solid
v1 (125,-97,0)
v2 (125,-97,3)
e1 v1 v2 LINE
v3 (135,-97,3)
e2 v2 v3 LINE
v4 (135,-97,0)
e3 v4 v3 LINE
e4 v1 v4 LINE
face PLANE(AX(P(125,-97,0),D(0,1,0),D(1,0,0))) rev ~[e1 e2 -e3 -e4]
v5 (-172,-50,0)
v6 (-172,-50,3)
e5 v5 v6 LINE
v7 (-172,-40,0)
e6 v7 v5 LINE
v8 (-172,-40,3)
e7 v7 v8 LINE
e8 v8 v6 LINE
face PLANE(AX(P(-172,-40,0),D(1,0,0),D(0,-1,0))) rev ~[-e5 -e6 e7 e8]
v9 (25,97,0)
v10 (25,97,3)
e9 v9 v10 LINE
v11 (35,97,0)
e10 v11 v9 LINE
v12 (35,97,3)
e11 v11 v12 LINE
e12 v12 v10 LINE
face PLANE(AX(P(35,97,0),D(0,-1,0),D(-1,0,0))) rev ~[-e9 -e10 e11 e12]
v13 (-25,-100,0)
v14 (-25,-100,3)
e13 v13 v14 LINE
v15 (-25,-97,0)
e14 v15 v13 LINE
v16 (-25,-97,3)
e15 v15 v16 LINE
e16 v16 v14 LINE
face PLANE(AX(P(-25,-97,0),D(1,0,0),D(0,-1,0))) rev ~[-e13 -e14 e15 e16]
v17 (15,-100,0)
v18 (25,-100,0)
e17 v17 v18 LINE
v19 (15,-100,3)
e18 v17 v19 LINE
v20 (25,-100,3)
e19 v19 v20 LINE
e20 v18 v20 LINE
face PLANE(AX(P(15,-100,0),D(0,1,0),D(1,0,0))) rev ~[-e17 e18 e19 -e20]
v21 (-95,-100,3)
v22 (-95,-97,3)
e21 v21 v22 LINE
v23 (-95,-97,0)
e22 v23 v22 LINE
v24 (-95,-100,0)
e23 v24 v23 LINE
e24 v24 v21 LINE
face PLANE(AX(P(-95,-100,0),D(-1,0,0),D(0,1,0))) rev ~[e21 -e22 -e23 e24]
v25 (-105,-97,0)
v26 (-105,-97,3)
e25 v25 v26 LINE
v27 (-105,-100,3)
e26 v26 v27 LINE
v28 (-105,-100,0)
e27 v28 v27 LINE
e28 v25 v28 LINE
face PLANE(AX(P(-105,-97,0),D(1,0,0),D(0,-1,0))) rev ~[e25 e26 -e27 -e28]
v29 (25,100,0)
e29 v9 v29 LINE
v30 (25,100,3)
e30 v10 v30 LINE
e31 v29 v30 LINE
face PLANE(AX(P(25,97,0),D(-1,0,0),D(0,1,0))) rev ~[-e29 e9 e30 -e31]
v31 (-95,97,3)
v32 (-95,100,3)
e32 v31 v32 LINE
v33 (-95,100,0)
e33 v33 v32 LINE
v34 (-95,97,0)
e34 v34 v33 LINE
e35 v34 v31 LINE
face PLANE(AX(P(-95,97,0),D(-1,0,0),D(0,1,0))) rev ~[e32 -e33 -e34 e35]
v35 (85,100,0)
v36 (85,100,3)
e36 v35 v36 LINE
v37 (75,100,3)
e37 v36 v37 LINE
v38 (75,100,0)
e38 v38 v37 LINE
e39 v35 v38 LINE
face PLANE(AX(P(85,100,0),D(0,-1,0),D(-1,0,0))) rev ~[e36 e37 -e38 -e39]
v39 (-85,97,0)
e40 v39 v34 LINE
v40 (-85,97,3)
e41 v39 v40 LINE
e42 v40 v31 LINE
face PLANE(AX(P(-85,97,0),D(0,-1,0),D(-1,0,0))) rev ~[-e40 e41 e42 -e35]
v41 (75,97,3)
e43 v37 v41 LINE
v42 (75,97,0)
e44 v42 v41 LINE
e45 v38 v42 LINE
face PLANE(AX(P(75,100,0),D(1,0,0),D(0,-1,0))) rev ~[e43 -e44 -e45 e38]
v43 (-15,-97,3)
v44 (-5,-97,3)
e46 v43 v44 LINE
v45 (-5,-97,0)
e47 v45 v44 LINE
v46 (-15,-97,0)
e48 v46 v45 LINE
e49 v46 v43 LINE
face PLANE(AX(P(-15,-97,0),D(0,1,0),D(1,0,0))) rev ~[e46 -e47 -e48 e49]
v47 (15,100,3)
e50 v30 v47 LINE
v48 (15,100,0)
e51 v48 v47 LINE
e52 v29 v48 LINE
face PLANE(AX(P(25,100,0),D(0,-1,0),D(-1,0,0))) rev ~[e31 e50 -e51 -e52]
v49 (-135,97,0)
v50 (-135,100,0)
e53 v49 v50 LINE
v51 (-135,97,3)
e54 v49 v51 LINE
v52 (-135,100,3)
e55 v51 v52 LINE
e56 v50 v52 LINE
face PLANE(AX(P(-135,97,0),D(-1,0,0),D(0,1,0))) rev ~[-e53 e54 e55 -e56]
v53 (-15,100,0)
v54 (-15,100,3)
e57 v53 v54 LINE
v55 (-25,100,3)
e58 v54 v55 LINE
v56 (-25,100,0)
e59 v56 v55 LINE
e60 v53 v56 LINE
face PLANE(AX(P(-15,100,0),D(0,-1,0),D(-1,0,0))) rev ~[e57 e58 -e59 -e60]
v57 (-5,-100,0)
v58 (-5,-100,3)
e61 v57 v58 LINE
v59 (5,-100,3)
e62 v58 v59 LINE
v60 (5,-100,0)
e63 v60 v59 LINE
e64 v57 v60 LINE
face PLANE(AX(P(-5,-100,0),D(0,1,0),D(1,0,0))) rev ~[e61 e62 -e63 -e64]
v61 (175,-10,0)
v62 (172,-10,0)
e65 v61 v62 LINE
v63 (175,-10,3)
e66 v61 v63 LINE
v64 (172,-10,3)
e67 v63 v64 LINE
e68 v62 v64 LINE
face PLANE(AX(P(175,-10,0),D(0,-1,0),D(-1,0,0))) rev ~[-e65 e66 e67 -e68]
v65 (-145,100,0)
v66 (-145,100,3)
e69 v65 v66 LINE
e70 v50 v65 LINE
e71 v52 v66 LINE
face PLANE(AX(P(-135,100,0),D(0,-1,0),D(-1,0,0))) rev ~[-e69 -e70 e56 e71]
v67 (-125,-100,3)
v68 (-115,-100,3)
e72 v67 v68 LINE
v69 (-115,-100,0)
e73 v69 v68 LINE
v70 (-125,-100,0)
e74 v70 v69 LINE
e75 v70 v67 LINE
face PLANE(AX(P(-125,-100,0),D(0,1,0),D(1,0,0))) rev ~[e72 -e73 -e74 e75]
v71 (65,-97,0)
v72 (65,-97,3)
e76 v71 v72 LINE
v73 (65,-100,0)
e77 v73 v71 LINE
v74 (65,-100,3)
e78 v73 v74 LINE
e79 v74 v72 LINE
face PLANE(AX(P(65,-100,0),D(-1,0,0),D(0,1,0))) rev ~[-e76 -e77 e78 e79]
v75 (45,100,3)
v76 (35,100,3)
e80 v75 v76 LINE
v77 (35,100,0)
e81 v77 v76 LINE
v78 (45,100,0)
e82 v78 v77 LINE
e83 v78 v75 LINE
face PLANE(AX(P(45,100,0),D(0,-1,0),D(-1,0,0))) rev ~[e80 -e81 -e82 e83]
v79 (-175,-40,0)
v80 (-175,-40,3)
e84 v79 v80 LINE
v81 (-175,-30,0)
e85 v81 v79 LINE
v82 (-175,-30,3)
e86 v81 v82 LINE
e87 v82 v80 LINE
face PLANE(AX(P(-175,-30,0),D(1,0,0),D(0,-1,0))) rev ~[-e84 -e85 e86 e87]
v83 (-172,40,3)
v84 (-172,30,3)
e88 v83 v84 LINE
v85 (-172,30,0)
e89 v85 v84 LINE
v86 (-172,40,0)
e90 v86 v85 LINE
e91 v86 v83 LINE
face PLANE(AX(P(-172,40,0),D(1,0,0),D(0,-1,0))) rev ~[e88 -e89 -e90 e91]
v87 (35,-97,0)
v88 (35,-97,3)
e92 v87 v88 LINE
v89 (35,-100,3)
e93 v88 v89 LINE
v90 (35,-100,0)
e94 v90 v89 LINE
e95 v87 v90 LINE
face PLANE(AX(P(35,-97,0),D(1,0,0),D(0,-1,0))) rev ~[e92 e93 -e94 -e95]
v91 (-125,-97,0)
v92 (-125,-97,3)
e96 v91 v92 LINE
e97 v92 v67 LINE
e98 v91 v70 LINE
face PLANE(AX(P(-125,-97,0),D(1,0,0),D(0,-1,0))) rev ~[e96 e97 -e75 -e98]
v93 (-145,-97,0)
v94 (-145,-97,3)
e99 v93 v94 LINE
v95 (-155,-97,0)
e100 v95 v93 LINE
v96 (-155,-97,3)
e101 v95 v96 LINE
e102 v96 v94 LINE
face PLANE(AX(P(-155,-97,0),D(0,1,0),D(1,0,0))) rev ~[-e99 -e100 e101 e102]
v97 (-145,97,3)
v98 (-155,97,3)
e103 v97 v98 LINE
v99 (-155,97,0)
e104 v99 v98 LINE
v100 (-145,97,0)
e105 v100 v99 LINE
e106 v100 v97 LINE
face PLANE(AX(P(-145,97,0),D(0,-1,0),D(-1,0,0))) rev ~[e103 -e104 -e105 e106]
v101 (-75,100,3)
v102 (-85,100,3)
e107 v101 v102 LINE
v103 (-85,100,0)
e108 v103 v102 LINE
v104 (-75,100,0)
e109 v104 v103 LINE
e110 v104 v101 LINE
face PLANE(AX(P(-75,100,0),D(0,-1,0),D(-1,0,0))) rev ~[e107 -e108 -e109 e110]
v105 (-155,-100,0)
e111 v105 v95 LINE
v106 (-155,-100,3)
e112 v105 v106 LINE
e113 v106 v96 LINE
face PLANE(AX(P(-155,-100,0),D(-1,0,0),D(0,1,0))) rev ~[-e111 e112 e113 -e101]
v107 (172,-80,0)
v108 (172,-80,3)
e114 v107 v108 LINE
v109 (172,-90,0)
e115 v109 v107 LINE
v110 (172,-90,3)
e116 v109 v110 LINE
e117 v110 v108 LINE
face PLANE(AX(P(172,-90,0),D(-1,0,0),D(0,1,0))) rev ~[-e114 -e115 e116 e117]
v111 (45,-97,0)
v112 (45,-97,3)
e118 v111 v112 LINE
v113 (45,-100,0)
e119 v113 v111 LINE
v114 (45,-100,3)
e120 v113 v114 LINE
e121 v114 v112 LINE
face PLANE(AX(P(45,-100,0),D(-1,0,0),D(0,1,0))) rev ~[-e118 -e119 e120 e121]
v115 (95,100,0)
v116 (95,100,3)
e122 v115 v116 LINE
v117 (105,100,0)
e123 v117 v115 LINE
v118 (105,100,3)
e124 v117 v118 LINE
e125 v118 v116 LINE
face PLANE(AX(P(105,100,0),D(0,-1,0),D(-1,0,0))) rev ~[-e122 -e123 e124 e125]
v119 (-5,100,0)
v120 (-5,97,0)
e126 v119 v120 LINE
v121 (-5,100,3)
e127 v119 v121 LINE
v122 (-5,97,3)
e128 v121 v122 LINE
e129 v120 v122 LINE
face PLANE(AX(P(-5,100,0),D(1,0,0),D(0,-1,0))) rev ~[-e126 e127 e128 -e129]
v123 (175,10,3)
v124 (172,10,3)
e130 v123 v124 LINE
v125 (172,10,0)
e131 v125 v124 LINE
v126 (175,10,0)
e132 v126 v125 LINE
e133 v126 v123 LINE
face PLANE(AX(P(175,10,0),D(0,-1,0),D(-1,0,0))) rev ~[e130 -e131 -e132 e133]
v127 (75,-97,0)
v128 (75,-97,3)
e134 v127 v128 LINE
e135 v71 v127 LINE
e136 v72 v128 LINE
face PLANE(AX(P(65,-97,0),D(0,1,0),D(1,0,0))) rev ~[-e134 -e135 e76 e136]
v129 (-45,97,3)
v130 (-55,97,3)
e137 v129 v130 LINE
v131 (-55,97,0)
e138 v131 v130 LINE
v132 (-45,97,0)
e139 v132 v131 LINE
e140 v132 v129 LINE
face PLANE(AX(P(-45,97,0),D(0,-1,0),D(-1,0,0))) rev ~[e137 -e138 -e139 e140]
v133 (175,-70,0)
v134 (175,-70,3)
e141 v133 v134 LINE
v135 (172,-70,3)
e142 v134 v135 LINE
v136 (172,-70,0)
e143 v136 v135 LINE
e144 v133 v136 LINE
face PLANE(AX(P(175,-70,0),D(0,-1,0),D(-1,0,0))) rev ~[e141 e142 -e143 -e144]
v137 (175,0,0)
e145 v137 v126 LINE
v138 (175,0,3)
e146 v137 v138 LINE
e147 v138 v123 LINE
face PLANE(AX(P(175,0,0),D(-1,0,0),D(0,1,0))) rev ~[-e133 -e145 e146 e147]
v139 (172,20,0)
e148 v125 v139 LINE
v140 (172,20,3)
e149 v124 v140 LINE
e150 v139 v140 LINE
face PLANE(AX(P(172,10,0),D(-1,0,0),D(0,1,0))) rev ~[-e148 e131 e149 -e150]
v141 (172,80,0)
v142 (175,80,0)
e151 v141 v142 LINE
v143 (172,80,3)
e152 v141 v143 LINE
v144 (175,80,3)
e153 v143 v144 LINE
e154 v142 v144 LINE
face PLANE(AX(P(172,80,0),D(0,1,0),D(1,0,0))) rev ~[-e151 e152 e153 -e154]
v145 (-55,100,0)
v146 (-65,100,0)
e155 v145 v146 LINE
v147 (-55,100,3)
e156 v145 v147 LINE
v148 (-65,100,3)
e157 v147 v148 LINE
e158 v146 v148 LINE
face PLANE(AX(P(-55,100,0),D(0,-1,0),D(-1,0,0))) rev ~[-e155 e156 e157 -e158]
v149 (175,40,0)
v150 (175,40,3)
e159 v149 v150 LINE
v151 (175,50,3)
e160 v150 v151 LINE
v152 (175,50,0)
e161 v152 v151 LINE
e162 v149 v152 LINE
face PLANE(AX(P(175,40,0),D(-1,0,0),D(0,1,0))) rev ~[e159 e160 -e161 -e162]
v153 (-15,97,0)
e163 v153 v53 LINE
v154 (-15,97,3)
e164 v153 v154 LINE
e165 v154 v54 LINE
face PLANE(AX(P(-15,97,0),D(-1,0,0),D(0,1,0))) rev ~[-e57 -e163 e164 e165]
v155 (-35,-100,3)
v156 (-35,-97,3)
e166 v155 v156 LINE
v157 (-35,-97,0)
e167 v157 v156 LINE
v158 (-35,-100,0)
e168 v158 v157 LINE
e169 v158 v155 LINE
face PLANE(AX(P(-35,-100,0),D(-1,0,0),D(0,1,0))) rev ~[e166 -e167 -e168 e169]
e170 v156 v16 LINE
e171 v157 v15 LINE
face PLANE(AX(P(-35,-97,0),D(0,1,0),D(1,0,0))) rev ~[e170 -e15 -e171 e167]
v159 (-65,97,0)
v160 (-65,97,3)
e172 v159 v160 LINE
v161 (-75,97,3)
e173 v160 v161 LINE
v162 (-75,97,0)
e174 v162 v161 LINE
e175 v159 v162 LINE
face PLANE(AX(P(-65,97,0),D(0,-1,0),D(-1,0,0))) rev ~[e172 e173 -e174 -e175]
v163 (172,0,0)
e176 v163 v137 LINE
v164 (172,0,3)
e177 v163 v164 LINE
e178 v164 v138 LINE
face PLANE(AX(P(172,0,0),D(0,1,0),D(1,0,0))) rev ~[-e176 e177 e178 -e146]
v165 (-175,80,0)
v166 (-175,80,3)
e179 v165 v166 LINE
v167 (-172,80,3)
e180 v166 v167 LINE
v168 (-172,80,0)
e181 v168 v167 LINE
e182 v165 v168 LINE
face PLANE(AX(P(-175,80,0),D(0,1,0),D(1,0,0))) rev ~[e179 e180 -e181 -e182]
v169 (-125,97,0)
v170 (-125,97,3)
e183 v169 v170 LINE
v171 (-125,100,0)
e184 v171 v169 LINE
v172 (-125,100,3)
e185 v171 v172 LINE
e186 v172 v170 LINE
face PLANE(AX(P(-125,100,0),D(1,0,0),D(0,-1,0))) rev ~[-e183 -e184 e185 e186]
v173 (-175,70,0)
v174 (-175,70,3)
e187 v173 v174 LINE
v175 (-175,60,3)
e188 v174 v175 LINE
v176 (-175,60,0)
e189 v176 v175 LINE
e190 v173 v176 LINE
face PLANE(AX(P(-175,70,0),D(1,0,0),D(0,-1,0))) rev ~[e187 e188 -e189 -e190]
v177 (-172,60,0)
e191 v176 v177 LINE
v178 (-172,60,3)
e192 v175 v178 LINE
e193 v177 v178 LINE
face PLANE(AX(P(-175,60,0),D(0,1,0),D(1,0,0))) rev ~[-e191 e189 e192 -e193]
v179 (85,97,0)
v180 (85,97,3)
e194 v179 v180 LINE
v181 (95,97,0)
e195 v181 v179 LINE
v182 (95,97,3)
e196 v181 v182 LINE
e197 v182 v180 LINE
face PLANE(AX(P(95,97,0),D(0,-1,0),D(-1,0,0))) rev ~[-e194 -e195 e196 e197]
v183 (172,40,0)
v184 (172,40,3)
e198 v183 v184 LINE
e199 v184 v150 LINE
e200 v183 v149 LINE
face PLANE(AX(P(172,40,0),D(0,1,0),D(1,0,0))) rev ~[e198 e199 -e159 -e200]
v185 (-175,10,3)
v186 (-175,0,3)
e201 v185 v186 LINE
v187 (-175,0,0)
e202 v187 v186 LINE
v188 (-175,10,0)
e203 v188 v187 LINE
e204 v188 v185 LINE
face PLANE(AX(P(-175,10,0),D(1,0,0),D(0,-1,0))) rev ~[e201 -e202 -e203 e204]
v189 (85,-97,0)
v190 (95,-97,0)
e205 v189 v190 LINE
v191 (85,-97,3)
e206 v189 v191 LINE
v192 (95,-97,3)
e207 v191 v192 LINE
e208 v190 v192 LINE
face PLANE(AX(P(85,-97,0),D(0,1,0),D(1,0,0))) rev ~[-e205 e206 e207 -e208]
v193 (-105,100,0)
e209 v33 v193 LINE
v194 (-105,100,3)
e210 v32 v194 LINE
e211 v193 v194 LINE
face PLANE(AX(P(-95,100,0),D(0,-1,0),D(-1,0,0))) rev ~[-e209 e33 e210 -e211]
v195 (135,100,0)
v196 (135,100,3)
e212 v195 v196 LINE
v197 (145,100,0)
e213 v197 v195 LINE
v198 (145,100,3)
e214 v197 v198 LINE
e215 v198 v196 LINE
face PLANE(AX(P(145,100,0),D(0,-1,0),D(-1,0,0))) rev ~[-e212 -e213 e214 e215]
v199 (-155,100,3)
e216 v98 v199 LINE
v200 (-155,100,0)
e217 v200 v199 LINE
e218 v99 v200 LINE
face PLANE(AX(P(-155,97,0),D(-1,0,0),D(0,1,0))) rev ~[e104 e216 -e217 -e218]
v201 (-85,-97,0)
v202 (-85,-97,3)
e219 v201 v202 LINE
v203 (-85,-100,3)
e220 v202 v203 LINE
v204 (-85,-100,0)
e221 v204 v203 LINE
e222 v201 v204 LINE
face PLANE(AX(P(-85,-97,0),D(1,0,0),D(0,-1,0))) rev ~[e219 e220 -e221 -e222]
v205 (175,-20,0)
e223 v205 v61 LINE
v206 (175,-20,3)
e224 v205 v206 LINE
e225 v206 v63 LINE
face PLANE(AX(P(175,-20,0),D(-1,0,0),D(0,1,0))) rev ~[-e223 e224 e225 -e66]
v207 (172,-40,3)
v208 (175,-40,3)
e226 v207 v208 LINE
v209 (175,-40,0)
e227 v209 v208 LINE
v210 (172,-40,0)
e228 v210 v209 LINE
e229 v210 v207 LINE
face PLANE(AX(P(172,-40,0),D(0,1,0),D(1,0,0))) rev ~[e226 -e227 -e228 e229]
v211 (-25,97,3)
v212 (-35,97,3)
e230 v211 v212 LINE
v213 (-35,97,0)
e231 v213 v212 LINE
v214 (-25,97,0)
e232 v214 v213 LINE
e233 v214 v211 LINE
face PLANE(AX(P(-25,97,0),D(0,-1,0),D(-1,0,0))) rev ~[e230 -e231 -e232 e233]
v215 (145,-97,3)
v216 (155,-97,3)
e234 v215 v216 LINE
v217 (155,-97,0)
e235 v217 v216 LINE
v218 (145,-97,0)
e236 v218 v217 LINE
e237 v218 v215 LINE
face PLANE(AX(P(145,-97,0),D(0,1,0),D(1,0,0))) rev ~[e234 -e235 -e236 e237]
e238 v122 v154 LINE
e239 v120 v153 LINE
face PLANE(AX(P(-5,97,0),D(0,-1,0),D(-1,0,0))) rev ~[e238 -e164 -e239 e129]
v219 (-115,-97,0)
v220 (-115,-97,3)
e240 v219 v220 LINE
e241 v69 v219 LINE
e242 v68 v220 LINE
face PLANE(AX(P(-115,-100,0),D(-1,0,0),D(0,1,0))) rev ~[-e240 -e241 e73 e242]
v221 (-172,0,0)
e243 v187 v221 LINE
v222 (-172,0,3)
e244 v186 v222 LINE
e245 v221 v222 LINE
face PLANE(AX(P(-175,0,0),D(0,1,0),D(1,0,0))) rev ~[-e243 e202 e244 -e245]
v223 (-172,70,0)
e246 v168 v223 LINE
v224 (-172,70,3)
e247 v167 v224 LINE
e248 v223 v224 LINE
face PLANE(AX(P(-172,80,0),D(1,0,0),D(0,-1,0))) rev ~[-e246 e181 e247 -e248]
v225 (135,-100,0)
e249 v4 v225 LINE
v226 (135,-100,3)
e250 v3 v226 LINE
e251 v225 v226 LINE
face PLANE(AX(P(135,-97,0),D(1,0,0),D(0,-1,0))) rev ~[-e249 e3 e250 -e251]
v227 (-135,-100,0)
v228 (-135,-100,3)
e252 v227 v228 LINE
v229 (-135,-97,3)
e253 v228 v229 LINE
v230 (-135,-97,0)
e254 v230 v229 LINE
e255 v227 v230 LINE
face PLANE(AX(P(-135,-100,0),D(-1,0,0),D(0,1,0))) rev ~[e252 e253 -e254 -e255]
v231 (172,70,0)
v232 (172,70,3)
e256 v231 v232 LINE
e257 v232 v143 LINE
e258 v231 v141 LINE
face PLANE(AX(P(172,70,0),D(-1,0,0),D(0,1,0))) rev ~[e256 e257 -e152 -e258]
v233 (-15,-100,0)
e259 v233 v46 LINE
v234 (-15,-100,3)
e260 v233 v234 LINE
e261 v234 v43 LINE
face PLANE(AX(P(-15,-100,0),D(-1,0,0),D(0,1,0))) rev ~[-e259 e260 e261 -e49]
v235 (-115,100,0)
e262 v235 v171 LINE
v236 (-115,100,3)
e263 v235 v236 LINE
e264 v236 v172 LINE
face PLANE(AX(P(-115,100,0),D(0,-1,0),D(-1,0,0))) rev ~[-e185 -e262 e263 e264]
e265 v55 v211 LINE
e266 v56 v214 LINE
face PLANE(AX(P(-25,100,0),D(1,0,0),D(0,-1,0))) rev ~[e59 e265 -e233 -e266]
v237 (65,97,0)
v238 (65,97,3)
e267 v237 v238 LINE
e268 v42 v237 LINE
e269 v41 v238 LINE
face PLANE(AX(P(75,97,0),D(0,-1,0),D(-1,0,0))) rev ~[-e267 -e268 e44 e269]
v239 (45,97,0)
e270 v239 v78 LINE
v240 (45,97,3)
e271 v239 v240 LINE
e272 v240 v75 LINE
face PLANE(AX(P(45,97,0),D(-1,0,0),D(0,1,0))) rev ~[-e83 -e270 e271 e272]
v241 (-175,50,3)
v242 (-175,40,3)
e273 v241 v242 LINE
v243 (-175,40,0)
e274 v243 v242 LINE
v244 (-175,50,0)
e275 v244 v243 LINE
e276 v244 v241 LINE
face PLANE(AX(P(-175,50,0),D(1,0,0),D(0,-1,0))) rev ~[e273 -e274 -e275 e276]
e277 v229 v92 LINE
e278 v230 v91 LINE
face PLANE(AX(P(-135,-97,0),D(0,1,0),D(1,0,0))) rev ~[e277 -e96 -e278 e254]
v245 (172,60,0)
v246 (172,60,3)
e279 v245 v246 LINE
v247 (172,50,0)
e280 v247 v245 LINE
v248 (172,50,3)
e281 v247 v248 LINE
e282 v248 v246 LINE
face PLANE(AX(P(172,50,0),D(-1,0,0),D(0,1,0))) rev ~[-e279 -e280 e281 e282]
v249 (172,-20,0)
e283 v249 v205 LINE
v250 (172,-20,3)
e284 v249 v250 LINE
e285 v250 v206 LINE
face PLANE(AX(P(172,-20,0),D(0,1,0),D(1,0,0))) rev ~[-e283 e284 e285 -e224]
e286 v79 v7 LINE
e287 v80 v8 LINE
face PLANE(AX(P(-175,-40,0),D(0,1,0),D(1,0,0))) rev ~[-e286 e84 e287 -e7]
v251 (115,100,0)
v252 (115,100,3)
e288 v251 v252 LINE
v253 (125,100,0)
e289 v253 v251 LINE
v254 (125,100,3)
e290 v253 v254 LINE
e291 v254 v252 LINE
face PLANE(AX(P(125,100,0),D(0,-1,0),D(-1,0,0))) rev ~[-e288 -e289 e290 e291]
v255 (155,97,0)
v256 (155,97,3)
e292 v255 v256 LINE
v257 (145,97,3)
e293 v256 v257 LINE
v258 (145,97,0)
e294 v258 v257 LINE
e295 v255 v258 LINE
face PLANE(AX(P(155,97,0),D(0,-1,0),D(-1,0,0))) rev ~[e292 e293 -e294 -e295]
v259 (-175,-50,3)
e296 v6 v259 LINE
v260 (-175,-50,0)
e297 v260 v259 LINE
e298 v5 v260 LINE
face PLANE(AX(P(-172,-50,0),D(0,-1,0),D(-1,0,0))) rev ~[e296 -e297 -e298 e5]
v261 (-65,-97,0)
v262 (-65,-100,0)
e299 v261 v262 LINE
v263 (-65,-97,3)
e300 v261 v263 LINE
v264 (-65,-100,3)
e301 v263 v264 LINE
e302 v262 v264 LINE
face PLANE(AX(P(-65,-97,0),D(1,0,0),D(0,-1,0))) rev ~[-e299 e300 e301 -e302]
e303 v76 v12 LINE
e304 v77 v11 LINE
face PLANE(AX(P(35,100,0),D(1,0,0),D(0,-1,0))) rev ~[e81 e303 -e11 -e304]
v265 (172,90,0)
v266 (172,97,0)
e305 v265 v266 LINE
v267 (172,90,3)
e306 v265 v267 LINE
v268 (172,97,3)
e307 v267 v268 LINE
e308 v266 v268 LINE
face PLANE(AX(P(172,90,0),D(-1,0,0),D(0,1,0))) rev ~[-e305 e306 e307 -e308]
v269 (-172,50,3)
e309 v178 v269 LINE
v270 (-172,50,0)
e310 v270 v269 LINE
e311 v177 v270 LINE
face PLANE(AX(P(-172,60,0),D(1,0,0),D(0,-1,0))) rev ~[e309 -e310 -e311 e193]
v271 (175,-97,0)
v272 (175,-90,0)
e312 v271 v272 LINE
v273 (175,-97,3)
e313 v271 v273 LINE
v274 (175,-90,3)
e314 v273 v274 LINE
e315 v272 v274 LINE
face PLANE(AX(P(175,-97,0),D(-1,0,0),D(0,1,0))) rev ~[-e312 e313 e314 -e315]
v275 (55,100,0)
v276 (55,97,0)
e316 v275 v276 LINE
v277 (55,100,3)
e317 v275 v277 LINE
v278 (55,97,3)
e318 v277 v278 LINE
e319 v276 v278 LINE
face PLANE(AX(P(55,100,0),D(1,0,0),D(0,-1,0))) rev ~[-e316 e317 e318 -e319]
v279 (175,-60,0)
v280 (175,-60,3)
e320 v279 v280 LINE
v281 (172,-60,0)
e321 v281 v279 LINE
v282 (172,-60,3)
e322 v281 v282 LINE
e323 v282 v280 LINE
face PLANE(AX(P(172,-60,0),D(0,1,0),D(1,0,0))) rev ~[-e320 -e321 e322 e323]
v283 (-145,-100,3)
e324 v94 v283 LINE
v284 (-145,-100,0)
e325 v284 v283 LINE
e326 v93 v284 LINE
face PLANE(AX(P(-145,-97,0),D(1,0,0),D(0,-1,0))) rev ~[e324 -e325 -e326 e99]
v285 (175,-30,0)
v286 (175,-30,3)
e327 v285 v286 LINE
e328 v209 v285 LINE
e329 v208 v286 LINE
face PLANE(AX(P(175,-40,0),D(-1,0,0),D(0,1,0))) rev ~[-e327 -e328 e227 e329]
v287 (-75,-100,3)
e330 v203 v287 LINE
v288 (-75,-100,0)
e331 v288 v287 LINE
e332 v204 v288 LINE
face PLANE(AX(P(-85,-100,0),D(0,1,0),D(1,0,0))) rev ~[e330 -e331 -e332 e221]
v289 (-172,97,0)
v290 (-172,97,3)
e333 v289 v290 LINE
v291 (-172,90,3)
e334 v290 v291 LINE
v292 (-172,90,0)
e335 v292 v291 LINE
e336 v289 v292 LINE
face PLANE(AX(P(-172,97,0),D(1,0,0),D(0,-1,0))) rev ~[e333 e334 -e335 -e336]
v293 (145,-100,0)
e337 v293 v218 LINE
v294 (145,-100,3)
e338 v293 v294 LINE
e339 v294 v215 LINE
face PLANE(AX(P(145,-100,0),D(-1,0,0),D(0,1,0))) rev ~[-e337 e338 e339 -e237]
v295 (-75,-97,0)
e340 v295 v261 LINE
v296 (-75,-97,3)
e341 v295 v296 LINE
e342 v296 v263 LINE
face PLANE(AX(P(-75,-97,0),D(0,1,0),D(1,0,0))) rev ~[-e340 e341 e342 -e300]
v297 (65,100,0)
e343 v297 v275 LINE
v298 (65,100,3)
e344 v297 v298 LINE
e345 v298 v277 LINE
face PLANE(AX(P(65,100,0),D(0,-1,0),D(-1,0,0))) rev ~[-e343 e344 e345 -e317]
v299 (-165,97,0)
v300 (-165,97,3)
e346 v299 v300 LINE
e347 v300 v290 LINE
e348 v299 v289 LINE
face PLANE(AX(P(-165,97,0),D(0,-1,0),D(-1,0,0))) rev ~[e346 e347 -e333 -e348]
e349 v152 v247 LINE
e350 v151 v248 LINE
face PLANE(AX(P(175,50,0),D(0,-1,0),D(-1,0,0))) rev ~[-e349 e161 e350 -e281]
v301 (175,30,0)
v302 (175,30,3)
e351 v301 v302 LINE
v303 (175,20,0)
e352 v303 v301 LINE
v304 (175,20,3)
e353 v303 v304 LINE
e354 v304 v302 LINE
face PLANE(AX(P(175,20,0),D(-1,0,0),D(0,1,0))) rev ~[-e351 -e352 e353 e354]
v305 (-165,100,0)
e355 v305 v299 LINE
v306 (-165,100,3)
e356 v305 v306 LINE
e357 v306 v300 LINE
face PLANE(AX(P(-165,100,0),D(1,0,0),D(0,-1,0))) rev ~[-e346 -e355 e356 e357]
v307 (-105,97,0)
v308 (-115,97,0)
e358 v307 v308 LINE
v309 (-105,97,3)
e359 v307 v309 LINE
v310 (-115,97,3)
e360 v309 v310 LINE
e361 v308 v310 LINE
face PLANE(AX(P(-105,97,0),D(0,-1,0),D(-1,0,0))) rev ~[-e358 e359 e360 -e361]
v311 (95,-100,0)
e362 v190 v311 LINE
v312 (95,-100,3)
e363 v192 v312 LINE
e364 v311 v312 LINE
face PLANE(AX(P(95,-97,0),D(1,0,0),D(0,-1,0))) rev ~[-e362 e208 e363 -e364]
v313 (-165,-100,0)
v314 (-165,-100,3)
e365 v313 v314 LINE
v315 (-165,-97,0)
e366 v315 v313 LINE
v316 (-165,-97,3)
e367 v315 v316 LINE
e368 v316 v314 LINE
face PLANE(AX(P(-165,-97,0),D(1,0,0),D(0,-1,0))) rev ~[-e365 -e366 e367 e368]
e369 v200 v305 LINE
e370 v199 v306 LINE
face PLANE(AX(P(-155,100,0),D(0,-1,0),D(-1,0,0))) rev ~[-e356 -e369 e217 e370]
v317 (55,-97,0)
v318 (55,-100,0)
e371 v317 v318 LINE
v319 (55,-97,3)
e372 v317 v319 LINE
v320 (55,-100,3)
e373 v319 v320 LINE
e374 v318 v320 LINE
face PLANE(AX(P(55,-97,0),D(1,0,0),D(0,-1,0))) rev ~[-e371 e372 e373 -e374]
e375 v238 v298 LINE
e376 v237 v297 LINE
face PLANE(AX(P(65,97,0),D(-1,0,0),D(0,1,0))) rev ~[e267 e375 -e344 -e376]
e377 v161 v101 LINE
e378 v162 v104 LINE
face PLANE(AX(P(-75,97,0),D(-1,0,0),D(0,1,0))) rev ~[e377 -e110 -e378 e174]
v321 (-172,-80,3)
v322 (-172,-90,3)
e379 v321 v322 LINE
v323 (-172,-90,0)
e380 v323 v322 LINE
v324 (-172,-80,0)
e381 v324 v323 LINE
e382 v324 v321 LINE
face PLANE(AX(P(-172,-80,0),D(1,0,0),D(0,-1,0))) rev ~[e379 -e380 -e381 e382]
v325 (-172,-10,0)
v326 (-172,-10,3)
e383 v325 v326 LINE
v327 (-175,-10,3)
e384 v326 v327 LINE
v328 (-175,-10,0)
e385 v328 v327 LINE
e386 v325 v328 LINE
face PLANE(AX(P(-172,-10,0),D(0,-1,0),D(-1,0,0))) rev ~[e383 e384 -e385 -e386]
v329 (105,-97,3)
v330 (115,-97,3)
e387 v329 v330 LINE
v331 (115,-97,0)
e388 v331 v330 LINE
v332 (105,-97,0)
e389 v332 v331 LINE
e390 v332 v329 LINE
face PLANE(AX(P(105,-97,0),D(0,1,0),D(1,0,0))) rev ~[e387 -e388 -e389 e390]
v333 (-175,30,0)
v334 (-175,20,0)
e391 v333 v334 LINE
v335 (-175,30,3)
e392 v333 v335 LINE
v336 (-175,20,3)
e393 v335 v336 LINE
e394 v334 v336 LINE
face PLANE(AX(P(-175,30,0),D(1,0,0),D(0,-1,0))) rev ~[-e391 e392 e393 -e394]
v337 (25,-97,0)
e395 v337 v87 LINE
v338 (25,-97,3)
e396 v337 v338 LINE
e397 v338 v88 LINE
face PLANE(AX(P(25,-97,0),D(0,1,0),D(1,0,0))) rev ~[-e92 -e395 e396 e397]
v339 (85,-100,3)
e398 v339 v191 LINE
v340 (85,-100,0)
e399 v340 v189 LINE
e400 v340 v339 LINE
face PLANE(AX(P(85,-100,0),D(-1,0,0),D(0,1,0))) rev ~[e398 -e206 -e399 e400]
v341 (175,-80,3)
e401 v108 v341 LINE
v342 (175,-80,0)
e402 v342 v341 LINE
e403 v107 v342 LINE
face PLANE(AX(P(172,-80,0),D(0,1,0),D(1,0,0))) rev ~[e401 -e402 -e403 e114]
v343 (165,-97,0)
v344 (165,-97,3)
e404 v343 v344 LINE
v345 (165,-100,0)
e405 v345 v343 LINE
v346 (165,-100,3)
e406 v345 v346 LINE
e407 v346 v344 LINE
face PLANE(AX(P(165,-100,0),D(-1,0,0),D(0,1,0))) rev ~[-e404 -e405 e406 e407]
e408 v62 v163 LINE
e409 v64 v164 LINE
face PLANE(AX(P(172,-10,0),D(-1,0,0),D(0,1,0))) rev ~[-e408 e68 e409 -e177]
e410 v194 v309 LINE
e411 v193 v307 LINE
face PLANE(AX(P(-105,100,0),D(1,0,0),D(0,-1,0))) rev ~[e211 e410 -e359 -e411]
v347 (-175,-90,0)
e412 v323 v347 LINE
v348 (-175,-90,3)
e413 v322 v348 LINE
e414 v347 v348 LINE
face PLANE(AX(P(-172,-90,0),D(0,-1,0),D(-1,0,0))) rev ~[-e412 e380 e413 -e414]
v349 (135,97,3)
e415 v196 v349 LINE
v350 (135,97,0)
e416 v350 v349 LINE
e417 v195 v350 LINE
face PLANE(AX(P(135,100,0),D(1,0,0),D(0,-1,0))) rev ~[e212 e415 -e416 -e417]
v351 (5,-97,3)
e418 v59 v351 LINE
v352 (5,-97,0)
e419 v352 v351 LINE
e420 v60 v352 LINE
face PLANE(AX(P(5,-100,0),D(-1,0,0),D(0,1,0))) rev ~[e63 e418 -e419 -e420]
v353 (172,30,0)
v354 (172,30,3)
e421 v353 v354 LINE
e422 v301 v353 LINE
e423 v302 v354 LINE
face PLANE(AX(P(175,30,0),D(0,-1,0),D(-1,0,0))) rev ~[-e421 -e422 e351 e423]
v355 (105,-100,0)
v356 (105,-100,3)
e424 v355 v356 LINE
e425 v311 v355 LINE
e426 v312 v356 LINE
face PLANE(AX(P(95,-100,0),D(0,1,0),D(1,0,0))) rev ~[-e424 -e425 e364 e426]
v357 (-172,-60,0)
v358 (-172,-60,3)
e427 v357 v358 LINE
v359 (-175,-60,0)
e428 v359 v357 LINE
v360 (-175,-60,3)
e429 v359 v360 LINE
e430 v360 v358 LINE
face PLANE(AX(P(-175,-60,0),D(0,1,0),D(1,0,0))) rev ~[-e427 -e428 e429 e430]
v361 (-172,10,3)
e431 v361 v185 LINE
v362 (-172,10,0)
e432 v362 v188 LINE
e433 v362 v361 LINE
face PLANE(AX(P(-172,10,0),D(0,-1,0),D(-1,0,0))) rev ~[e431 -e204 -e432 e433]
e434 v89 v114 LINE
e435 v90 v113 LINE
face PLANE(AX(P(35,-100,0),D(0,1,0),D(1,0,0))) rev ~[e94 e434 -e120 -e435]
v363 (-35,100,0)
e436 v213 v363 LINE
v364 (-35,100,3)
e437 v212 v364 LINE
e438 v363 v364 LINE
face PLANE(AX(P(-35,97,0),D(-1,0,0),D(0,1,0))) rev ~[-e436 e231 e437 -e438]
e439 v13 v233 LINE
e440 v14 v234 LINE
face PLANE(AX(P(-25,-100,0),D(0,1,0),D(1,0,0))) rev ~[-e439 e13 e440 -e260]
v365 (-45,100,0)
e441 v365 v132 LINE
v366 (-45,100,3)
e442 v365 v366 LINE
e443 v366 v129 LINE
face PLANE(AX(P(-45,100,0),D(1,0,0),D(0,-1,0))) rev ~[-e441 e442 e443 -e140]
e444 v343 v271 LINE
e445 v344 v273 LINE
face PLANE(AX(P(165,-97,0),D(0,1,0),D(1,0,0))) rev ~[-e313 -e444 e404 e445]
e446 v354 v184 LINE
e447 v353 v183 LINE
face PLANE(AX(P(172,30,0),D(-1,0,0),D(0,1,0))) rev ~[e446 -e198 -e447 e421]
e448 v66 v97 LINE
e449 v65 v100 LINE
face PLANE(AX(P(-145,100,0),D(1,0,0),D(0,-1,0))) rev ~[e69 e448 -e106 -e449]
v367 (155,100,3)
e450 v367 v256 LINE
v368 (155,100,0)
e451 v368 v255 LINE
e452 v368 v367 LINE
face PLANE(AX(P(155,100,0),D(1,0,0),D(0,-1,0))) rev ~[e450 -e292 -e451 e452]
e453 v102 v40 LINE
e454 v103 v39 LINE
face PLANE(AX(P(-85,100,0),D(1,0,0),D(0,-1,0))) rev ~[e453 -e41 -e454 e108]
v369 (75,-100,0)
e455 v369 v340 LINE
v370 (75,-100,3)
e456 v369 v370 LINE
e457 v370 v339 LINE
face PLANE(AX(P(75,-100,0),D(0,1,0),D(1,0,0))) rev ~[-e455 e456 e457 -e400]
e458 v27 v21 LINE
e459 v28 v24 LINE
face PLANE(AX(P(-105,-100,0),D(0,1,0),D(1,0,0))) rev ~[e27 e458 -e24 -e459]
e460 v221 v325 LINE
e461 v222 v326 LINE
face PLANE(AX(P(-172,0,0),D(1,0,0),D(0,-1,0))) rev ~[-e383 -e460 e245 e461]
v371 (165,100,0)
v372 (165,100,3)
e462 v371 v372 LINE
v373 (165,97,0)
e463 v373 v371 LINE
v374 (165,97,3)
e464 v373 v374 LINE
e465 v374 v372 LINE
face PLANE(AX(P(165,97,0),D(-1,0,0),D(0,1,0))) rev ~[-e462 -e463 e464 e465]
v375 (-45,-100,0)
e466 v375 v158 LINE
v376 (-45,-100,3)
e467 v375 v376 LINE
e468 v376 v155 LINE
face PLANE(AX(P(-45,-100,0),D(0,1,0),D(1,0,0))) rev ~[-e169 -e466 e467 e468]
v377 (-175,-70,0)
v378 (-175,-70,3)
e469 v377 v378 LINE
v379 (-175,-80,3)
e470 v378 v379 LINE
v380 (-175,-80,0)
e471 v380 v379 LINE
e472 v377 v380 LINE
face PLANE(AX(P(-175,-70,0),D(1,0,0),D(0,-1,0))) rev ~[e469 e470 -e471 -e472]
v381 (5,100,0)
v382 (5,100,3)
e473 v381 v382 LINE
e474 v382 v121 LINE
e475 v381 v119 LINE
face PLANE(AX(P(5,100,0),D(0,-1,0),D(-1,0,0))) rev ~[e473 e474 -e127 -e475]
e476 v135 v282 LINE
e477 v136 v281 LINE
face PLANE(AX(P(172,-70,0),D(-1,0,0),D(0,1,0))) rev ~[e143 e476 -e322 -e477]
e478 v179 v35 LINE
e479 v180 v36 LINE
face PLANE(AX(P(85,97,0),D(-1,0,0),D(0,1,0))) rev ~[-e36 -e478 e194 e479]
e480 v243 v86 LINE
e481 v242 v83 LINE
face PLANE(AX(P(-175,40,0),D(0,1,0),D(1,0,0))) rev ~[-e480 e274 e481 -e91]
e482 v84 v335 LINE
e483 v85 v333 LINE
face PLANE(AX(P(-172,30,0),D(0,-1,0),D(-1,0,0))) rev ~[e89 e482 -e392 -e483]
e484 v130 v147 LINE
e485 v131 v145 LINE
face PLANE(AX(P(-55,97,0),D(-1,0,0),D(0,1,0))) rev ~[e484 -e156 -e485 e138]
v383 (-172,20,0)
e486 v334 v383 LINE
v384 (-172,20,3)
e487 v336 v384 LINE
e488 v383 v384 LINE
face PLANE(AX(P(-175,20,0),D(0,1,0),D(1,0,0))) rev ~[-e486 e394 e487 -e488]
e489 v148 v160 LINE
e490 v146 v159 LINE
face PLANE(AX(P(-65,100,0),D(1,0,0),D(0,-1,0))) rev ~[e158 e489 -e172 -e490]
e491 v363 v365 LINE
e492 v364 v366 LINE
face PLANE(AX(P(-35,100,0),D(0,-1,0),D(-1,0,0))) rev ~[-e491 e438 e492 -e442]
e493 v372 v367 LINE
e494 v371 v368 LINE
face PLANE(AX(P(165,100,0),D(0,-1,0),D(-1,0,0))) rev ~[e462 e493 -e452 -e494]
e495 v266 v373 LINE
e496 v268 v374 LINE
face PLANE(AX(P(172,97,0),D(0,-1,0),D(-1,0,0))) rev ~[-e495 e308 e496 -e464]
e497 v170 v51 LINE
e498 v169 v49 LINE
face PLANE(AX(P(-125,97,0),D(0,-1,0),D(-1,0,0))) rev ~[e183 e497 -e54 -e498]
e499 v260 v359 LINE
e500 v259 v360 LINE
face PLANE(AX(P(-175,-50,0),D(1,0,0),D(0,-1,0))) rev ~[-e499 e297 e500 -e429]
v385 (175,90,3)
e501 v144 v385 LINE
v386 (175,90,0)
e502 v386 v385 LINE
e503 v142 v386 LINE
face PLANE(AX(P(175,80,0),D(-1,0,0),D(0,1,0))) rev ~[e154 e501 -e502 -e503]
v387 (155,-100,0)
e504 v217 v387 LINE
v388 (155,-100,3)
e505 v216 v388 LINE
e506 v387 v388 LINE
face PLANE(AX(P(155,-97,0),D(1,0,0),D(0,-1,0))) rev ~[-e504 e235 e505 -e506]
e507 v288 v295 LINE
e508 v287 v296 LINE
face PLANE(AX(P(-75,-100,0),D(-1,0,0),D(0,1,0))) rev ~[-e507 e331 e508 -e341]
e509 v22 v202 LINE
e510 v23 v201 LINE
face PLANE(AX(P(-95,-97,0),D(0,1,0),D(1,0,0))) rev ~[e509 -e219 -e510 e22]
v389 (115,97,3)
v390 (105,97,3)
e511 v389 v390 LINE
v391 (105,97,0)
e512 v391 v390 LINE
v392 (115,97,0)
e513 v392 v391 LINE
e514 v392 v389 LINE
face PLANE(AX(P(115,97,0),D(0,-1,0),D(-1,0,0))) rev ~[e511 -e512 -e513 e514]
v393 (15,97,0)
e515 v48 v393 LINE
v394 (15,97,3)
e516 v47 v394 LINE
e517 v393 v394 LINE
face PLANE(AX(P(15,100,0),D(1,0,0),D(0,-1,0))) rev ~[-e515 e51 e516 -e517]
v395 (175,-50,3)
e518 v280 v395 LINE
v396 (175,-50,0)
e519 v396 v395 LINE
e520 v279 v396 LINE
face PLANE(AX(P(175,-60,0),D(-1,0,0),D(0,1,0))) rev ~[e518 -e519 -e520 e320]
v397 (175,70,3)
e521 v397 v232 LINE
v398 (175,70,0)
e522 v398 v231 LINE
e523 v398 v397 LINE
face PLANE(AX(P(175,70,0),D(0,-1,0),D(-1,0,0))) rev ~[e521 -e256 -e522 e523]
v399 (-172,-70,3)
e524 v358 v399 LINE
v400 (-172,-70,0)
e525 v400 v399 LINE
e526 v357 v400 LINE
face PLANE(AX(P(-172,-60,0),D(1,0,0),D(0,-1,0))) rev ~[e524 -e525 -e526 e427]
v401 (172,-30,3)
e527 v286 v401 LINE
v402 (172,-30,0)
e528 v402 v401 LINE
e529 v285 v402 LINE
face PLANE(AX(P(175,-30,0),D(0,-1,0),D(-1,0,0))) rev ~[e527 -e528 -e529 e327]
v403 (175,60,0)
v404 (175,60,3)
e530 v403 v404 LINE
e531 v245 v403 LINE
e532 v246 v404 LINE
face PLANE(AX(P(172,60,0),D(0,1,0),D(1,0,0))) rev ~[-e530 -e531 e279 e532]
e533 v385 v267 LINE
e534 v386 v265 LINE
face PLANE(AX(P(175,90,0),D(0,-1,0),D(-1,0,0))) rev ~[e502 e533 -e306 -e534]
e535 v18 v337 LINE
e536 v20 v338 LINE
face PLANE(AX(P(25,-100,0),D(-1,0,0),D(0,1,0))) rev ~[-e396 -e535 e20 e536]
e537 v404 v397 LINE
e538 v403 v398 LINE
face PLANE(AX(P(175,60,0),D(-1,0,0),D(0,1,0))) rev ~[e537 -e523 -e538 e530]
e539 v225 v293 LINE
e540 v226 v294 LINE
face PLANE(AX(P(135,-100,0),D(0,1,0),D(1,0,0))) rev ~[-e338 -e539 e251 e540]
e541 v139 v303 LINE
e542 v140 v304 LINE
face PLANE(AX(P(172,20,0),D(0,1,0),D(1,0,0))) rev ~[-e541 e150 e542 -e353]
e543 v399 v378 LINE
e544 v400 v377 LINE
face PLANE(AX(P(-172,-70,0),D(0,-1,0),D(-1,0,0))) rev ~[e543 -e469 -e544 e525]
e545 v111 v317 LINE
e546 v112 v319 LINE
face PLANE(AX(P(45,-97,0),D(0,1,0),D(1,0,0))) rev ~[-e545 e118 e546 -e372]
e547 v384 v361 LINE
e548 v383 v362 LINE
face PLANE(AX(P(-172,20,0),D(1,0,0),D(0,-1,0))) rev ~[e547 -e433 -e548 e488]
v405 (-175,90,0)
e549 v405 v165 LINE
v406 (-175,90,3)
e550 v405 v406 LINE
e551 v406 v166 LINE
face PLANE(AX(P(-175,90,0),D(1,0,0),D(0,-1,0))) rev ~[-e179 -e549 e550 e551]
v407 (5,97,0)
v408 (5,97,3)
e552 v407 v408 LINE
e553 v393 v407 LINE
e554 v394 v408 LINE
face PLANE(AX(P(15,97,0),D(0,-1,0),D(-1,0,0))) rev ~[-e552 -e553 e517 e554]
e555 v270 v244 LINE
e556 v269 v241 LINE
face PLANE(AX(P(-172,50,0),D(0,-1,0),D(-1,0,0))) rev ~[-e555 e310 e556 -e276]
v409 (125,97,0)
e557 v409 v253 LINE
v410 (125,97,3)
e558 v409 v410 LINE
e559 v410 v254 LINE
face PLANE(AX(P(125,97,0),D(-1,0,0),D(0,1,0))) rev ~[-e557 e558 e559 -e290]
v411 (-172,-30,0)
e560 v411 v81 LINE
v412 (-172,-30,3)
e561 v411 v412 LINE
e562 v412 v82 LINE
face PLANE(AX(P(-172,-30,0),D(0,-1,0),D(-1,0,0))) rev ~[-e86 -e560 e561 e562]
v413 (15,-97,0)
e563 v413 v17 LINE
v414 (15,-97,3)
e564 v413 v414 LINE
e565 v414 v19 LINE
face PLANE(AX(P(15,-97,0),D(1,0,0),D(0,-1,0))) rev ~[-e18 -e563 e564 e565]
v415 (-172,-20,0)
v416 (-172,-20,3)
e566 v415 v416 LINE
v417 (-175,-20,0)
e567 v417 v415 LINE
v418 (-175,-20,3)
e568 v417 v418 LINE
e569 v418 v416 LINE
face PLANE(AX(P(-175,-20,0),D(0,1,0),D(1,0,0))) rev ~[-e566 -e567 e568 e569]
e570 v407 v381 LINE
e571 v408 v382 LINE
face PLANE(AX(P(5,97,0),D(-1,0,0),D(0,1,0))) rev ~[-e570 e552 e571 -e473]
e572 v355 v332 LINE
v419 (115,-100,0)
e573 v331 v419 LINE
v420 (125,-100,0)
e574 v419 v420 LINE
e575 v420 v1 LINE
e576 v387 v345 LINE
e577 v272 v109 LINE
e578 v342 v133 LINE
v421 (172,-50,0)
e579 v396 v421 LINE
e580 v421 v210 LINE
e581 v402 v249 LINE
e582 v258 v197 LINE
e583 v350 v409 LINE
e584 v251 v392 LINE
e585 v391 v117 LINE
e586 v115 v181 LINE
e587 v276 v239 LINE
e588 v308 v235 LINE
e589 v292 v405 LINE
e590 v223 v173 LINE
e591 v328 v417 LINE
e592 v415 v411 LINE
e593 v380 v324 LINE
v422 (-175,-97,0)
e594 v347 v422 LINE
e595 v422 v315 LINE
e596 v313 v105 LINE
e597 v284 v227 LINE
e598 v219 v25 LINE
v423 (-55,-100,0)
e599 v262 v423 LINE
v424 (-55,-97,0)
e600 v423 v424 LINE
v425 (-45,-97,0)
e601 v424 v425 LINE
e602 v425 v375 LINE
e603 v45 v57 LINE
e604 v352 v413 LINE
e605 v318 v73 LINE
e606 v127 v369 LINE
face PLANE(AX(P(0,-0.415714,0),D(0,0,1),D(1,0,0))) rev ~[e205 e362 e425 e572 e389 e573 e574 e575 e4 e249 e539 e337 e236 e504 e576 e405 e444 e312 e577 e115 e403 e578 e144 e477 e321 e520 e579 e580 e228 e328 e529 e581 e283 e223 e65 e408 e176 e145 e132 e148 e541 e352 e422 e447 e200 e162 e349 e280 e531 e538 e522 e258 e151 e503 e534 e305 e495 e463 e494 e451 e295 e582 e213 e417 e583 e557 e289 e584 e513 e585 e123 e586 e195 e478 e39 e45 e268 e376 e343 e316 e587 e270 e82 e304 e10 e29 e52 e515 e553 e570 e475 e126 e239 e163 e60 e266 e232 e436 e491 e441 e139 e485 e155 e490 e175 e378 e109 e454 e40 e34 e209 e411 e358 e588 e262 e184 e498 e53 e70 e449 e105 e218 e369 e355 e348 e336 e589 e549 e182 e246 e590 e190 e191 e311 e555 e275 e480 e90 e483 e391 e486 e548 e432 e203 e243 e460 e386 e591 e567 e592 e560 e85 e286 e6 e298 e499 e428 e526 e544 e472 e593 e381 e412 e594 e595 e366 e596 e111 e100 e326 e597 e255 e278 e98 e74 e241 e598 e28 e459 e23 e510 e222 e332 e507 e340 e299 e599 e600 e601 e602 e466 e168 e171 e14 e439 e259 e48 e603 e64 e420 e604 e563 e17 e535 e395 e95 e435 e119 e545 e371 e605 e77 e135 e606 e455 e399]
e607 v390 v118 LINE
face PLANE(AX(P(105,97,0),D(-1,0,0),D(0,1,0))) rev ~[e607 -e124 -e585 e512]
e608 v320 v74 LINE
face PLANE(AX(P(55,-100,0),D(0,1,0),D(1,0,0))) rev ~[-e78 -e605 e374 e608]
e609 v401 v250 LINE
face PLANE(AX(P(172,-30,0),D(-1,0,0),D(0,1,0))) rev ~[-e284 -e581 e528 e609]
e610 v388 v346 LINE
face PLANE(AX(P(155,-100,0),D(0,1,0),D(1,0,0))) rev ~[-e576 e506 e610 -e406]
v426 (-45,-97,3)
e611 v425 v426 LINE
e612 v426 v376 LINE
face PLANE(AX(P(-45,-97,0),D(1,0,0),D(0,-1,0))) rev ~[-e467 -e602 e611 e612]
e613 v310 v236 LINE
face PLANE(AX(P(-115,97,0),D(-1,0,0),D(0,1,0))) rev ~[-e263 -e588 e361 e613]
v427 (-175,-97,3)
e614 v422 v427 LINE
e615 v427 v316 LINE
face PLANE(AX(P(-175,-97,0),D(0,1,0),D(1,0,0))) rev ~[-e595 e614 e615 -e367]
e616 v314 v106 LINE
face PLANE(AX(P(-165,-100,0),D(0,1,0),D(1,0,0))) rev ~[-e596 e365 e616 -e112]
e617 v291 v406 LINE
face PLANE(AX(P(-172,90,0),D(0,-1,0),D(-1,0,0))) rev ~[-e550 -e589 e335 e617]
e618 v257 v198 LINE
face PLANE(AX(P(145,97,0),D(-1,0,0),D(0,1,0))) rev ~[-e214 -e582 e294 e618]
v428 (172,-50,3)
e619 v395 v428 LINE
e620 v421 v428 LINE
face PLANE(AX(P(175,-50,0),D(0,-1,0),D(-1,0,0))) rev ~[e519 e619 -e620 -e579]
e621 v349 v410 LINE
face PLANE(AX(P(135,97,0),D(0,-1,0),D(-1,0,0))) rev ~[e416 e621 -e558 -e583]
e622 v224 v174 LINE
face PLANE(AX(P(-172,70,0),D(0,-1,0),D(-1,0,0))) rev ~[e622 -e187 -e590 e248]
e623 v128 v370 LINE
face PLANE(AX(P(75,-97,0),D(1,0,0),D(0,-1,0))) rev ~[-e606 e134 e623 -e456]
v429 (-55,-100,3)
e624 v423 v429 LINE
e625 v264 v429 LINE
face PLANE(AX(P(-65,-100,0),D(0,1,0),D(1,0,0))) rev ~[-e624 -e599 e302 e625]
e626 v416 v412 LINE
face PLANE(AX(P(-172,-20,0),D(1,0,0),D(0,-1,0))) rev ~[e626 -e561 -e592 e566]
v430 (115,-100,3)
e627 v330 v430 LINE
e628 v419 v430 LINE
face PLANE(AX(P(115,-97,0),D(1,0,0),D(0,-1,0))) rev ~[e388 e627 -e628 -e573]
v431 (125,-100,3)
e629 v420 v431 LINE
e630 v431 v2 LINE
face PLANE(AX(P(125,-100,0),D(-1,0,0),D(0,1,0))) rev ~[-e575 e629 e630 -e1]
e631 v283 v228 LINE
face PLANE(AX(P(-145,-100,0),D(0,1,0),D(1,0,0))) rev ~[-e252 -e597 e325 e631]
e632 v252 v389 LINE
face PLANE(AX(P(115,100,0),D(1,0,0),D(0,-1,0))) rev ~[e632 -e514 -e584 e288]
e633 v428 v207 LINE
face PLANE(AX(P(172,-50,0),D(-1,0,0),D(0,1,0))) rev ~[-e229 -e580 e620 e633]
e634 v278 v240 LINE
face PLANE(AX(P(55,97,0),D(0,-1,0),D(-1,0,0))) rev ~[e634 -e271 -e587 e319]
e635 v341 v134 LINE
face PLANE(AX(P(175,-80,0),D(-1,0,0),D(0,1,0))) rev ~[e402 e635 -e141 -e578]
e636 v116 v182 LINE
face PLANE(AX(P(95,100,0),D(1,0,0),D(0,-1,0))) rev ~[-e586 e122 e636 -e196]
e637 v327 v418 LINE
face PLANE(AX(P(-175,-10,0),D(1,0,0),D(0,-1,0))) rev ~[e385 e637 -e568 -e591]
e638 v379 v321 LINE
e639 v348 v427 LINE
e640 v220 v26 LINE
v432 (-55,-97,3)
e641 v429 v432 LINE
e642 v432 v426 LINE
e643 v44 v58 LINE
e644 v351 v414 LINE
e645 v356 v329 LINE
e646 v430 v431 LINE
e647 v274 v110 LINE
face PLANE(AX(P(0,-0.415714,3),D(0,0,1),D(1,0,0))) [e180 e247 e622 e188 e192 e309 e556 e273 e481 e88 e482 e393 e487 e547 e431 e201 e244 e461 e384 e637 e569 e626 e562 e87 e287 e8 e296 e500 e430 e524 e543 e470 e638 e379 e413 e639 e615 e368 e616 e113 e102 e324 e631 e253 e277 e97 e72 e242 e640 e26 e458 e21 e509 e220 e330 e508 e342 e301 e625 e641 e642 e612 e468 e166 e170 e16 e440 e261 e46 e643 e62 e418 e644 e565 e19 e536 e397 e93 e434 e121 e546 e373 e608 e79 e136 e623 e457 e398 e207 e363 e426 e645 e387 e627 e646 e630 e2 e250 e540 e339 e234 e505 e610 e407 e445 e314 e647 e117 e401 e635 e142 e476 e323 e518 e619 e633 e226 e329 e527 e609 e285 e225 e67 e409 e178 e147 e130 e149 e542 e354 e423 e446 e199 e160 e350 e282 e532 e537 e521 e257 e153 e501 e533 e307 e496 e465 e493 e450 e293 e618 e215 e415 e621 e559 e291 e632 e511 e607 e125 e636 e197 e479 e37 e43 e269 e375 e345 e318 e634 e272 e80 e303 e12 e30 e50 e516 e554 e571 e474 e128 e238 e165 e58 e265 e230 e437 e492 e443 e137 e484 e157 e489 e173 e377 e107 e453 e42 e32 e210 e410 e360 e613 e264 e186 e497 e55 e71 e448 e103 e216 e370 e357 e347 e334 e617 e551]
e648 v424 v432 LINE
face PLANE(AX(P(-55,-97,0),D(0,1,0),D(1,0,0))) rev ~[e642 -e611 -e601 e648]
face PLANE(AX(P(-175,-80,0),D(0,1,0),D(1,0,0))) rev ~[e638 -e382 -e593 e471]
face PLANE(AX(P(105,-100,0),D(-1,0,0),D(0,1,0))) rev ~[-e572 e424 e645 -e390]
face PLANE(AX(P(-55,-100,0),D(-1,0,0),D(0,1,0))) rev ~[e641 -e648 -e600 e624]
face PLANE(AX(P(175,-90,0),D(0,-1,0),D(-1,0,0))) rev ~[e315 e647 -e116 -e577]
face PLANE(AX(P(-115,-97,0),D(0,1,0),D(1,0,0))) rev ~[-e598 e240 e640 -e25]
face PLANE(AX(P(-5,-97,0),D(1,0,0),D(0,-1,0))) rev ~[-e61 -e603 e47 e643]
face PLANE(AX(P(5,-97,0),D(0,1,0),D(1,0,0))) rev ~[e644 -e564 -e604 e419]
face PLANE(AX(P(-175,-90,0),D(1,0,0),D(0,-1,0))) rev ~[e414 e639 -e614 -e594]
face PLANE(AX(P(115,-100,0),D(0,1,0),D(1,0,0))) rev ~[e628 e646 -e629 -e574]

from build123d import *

# Parameters (mm, degrees)
SALIENTE_EXTRUIR1_DEPTH = 3


with BuildPart() as part:
    # Croquis1 → Saliente-Extruir1 (new body)
    with BuildSketch(Plane.XY):
        Polygon((-175, -97), (-165, -97), (-165, -100), (-155, -100), (-155, -97), (-145, -97), (-145, -100), (-135, -100), (-135, -97), (-125, -97), (-125, -100), (-115, -100), (-115, -97), (-105, -97), (-105, -100), (-95, -100), (-95, -97), (-85, -97), (-85, -100), (-75, -100), (-75, -97), (-65, -97), (-65, -100), (-55, -100), (-55, -97), (-45, -97), (-45, -100), (-35, -100), (-35, -97), (-25, -97), (-25, -100), (-15, -100), (-15, -97), (-5, -97), (-5, -100), (5, -100), (5, -97), (15, -97), (15, -100), (25, -100), (25, -97), (35, -97), (35, -100), (45, -100), (45, -97), (55, -97), (55, -100), (65, -100), (65, -97), (75, -97), (75, -100), (85, -100), (85, -97), (95, -97), (95, -100), (105, -100), (105, -97), (115, -97), (115, -100), (125, -100), (125, -97), (135, -97), (135, -100), (145, -100), (145, -97), (155, -97), (155, -100), (165, -100), (165, -97), (175, -97), (175, -90), (172, -90), (172, -80), (175, -80), (175, -70), (172, -70), (172, -60), (175, -60), (175, -50), (172, -50), (172, -40), (175, -40), (175, -30), (172, -30), (172, -20), (175, -20), (175, -10), (172, -10), (172, 0), (175, 0), (175, 10), (172, 10), (172, 20), (175, 20), (175, 30), (172, 30), (172, 40), (175, 40), (175, 50), (172, 50), (172, 60), (175, 60), (175, 70), (172, 70), (172, 80), (175, 80), (175, 90), (172, 90), (172, 97), (165, 97), (165, 100), (155, 100), (155, 97), (145, 97), (145, 100), (135, 100), (135, 97), (125, 97), (125, 100), (115, 100), (115, 97), (105, 97), (105, 100), (95, 100), (95, 97), (85, 97), (85, 100), (75, 100), (75, 97), (65, 97), (65, 100), (55, 100), (55, 97), (45, 97), (45, 100), (35, 100), (35, 97), (25, 97), (25, 100), (15, 100), (15, 97), (5, 97), (5, 100), (-5, 100), (-5, 97), (-15, 97), (-15, 100), (-25, 100), (-25, 97), (-35, 97), (-35, 100), (-45, 100), (-45, 97), (-55, 97), (-55, 100), (-65, 100), (-65, 97), (-75, 97), (-75, 100), (-85, 100), (-85, 97), (-95, 97), (-95, 100), (-105, 100), (-105, 97), (-115, 97), (-115, 100), (-125, 100), (-125, 97), (-135, 97), (-135, 100), (-145, 100), (-145, 97), (-155, 97), (-155, 100), (-165, 100), (-165, 97), (-172, 97), (-172, 90), (-175, 90), (-175, 80), (-172, 80), (-172, 70), (-175, 70), (-175, 60), (-172, 60), (-172, 50), (-175, 50), (-175, 40), (-172, 40), (-172, 30), (-175, 30), (-175, 20), (-172, 20), (-172, 10), (-175, 10), (-175, 0), (-172, 0), (-172, -10), (-175, -10), (-175, -20), (-172, -20), (-172, -30), (-175, -30), (-175, -40), (-172, -40), (-172, -50), (-175, -50), (-175, -60), (-172, -60), (-172, -70), (-175, -70), (-175, -80), (-172, -80), (-172, -90), (-175, -90), align=None)
    extrude(amount=SALIENTE_EXTRUIR1_DEPTH)


solid = part.part
